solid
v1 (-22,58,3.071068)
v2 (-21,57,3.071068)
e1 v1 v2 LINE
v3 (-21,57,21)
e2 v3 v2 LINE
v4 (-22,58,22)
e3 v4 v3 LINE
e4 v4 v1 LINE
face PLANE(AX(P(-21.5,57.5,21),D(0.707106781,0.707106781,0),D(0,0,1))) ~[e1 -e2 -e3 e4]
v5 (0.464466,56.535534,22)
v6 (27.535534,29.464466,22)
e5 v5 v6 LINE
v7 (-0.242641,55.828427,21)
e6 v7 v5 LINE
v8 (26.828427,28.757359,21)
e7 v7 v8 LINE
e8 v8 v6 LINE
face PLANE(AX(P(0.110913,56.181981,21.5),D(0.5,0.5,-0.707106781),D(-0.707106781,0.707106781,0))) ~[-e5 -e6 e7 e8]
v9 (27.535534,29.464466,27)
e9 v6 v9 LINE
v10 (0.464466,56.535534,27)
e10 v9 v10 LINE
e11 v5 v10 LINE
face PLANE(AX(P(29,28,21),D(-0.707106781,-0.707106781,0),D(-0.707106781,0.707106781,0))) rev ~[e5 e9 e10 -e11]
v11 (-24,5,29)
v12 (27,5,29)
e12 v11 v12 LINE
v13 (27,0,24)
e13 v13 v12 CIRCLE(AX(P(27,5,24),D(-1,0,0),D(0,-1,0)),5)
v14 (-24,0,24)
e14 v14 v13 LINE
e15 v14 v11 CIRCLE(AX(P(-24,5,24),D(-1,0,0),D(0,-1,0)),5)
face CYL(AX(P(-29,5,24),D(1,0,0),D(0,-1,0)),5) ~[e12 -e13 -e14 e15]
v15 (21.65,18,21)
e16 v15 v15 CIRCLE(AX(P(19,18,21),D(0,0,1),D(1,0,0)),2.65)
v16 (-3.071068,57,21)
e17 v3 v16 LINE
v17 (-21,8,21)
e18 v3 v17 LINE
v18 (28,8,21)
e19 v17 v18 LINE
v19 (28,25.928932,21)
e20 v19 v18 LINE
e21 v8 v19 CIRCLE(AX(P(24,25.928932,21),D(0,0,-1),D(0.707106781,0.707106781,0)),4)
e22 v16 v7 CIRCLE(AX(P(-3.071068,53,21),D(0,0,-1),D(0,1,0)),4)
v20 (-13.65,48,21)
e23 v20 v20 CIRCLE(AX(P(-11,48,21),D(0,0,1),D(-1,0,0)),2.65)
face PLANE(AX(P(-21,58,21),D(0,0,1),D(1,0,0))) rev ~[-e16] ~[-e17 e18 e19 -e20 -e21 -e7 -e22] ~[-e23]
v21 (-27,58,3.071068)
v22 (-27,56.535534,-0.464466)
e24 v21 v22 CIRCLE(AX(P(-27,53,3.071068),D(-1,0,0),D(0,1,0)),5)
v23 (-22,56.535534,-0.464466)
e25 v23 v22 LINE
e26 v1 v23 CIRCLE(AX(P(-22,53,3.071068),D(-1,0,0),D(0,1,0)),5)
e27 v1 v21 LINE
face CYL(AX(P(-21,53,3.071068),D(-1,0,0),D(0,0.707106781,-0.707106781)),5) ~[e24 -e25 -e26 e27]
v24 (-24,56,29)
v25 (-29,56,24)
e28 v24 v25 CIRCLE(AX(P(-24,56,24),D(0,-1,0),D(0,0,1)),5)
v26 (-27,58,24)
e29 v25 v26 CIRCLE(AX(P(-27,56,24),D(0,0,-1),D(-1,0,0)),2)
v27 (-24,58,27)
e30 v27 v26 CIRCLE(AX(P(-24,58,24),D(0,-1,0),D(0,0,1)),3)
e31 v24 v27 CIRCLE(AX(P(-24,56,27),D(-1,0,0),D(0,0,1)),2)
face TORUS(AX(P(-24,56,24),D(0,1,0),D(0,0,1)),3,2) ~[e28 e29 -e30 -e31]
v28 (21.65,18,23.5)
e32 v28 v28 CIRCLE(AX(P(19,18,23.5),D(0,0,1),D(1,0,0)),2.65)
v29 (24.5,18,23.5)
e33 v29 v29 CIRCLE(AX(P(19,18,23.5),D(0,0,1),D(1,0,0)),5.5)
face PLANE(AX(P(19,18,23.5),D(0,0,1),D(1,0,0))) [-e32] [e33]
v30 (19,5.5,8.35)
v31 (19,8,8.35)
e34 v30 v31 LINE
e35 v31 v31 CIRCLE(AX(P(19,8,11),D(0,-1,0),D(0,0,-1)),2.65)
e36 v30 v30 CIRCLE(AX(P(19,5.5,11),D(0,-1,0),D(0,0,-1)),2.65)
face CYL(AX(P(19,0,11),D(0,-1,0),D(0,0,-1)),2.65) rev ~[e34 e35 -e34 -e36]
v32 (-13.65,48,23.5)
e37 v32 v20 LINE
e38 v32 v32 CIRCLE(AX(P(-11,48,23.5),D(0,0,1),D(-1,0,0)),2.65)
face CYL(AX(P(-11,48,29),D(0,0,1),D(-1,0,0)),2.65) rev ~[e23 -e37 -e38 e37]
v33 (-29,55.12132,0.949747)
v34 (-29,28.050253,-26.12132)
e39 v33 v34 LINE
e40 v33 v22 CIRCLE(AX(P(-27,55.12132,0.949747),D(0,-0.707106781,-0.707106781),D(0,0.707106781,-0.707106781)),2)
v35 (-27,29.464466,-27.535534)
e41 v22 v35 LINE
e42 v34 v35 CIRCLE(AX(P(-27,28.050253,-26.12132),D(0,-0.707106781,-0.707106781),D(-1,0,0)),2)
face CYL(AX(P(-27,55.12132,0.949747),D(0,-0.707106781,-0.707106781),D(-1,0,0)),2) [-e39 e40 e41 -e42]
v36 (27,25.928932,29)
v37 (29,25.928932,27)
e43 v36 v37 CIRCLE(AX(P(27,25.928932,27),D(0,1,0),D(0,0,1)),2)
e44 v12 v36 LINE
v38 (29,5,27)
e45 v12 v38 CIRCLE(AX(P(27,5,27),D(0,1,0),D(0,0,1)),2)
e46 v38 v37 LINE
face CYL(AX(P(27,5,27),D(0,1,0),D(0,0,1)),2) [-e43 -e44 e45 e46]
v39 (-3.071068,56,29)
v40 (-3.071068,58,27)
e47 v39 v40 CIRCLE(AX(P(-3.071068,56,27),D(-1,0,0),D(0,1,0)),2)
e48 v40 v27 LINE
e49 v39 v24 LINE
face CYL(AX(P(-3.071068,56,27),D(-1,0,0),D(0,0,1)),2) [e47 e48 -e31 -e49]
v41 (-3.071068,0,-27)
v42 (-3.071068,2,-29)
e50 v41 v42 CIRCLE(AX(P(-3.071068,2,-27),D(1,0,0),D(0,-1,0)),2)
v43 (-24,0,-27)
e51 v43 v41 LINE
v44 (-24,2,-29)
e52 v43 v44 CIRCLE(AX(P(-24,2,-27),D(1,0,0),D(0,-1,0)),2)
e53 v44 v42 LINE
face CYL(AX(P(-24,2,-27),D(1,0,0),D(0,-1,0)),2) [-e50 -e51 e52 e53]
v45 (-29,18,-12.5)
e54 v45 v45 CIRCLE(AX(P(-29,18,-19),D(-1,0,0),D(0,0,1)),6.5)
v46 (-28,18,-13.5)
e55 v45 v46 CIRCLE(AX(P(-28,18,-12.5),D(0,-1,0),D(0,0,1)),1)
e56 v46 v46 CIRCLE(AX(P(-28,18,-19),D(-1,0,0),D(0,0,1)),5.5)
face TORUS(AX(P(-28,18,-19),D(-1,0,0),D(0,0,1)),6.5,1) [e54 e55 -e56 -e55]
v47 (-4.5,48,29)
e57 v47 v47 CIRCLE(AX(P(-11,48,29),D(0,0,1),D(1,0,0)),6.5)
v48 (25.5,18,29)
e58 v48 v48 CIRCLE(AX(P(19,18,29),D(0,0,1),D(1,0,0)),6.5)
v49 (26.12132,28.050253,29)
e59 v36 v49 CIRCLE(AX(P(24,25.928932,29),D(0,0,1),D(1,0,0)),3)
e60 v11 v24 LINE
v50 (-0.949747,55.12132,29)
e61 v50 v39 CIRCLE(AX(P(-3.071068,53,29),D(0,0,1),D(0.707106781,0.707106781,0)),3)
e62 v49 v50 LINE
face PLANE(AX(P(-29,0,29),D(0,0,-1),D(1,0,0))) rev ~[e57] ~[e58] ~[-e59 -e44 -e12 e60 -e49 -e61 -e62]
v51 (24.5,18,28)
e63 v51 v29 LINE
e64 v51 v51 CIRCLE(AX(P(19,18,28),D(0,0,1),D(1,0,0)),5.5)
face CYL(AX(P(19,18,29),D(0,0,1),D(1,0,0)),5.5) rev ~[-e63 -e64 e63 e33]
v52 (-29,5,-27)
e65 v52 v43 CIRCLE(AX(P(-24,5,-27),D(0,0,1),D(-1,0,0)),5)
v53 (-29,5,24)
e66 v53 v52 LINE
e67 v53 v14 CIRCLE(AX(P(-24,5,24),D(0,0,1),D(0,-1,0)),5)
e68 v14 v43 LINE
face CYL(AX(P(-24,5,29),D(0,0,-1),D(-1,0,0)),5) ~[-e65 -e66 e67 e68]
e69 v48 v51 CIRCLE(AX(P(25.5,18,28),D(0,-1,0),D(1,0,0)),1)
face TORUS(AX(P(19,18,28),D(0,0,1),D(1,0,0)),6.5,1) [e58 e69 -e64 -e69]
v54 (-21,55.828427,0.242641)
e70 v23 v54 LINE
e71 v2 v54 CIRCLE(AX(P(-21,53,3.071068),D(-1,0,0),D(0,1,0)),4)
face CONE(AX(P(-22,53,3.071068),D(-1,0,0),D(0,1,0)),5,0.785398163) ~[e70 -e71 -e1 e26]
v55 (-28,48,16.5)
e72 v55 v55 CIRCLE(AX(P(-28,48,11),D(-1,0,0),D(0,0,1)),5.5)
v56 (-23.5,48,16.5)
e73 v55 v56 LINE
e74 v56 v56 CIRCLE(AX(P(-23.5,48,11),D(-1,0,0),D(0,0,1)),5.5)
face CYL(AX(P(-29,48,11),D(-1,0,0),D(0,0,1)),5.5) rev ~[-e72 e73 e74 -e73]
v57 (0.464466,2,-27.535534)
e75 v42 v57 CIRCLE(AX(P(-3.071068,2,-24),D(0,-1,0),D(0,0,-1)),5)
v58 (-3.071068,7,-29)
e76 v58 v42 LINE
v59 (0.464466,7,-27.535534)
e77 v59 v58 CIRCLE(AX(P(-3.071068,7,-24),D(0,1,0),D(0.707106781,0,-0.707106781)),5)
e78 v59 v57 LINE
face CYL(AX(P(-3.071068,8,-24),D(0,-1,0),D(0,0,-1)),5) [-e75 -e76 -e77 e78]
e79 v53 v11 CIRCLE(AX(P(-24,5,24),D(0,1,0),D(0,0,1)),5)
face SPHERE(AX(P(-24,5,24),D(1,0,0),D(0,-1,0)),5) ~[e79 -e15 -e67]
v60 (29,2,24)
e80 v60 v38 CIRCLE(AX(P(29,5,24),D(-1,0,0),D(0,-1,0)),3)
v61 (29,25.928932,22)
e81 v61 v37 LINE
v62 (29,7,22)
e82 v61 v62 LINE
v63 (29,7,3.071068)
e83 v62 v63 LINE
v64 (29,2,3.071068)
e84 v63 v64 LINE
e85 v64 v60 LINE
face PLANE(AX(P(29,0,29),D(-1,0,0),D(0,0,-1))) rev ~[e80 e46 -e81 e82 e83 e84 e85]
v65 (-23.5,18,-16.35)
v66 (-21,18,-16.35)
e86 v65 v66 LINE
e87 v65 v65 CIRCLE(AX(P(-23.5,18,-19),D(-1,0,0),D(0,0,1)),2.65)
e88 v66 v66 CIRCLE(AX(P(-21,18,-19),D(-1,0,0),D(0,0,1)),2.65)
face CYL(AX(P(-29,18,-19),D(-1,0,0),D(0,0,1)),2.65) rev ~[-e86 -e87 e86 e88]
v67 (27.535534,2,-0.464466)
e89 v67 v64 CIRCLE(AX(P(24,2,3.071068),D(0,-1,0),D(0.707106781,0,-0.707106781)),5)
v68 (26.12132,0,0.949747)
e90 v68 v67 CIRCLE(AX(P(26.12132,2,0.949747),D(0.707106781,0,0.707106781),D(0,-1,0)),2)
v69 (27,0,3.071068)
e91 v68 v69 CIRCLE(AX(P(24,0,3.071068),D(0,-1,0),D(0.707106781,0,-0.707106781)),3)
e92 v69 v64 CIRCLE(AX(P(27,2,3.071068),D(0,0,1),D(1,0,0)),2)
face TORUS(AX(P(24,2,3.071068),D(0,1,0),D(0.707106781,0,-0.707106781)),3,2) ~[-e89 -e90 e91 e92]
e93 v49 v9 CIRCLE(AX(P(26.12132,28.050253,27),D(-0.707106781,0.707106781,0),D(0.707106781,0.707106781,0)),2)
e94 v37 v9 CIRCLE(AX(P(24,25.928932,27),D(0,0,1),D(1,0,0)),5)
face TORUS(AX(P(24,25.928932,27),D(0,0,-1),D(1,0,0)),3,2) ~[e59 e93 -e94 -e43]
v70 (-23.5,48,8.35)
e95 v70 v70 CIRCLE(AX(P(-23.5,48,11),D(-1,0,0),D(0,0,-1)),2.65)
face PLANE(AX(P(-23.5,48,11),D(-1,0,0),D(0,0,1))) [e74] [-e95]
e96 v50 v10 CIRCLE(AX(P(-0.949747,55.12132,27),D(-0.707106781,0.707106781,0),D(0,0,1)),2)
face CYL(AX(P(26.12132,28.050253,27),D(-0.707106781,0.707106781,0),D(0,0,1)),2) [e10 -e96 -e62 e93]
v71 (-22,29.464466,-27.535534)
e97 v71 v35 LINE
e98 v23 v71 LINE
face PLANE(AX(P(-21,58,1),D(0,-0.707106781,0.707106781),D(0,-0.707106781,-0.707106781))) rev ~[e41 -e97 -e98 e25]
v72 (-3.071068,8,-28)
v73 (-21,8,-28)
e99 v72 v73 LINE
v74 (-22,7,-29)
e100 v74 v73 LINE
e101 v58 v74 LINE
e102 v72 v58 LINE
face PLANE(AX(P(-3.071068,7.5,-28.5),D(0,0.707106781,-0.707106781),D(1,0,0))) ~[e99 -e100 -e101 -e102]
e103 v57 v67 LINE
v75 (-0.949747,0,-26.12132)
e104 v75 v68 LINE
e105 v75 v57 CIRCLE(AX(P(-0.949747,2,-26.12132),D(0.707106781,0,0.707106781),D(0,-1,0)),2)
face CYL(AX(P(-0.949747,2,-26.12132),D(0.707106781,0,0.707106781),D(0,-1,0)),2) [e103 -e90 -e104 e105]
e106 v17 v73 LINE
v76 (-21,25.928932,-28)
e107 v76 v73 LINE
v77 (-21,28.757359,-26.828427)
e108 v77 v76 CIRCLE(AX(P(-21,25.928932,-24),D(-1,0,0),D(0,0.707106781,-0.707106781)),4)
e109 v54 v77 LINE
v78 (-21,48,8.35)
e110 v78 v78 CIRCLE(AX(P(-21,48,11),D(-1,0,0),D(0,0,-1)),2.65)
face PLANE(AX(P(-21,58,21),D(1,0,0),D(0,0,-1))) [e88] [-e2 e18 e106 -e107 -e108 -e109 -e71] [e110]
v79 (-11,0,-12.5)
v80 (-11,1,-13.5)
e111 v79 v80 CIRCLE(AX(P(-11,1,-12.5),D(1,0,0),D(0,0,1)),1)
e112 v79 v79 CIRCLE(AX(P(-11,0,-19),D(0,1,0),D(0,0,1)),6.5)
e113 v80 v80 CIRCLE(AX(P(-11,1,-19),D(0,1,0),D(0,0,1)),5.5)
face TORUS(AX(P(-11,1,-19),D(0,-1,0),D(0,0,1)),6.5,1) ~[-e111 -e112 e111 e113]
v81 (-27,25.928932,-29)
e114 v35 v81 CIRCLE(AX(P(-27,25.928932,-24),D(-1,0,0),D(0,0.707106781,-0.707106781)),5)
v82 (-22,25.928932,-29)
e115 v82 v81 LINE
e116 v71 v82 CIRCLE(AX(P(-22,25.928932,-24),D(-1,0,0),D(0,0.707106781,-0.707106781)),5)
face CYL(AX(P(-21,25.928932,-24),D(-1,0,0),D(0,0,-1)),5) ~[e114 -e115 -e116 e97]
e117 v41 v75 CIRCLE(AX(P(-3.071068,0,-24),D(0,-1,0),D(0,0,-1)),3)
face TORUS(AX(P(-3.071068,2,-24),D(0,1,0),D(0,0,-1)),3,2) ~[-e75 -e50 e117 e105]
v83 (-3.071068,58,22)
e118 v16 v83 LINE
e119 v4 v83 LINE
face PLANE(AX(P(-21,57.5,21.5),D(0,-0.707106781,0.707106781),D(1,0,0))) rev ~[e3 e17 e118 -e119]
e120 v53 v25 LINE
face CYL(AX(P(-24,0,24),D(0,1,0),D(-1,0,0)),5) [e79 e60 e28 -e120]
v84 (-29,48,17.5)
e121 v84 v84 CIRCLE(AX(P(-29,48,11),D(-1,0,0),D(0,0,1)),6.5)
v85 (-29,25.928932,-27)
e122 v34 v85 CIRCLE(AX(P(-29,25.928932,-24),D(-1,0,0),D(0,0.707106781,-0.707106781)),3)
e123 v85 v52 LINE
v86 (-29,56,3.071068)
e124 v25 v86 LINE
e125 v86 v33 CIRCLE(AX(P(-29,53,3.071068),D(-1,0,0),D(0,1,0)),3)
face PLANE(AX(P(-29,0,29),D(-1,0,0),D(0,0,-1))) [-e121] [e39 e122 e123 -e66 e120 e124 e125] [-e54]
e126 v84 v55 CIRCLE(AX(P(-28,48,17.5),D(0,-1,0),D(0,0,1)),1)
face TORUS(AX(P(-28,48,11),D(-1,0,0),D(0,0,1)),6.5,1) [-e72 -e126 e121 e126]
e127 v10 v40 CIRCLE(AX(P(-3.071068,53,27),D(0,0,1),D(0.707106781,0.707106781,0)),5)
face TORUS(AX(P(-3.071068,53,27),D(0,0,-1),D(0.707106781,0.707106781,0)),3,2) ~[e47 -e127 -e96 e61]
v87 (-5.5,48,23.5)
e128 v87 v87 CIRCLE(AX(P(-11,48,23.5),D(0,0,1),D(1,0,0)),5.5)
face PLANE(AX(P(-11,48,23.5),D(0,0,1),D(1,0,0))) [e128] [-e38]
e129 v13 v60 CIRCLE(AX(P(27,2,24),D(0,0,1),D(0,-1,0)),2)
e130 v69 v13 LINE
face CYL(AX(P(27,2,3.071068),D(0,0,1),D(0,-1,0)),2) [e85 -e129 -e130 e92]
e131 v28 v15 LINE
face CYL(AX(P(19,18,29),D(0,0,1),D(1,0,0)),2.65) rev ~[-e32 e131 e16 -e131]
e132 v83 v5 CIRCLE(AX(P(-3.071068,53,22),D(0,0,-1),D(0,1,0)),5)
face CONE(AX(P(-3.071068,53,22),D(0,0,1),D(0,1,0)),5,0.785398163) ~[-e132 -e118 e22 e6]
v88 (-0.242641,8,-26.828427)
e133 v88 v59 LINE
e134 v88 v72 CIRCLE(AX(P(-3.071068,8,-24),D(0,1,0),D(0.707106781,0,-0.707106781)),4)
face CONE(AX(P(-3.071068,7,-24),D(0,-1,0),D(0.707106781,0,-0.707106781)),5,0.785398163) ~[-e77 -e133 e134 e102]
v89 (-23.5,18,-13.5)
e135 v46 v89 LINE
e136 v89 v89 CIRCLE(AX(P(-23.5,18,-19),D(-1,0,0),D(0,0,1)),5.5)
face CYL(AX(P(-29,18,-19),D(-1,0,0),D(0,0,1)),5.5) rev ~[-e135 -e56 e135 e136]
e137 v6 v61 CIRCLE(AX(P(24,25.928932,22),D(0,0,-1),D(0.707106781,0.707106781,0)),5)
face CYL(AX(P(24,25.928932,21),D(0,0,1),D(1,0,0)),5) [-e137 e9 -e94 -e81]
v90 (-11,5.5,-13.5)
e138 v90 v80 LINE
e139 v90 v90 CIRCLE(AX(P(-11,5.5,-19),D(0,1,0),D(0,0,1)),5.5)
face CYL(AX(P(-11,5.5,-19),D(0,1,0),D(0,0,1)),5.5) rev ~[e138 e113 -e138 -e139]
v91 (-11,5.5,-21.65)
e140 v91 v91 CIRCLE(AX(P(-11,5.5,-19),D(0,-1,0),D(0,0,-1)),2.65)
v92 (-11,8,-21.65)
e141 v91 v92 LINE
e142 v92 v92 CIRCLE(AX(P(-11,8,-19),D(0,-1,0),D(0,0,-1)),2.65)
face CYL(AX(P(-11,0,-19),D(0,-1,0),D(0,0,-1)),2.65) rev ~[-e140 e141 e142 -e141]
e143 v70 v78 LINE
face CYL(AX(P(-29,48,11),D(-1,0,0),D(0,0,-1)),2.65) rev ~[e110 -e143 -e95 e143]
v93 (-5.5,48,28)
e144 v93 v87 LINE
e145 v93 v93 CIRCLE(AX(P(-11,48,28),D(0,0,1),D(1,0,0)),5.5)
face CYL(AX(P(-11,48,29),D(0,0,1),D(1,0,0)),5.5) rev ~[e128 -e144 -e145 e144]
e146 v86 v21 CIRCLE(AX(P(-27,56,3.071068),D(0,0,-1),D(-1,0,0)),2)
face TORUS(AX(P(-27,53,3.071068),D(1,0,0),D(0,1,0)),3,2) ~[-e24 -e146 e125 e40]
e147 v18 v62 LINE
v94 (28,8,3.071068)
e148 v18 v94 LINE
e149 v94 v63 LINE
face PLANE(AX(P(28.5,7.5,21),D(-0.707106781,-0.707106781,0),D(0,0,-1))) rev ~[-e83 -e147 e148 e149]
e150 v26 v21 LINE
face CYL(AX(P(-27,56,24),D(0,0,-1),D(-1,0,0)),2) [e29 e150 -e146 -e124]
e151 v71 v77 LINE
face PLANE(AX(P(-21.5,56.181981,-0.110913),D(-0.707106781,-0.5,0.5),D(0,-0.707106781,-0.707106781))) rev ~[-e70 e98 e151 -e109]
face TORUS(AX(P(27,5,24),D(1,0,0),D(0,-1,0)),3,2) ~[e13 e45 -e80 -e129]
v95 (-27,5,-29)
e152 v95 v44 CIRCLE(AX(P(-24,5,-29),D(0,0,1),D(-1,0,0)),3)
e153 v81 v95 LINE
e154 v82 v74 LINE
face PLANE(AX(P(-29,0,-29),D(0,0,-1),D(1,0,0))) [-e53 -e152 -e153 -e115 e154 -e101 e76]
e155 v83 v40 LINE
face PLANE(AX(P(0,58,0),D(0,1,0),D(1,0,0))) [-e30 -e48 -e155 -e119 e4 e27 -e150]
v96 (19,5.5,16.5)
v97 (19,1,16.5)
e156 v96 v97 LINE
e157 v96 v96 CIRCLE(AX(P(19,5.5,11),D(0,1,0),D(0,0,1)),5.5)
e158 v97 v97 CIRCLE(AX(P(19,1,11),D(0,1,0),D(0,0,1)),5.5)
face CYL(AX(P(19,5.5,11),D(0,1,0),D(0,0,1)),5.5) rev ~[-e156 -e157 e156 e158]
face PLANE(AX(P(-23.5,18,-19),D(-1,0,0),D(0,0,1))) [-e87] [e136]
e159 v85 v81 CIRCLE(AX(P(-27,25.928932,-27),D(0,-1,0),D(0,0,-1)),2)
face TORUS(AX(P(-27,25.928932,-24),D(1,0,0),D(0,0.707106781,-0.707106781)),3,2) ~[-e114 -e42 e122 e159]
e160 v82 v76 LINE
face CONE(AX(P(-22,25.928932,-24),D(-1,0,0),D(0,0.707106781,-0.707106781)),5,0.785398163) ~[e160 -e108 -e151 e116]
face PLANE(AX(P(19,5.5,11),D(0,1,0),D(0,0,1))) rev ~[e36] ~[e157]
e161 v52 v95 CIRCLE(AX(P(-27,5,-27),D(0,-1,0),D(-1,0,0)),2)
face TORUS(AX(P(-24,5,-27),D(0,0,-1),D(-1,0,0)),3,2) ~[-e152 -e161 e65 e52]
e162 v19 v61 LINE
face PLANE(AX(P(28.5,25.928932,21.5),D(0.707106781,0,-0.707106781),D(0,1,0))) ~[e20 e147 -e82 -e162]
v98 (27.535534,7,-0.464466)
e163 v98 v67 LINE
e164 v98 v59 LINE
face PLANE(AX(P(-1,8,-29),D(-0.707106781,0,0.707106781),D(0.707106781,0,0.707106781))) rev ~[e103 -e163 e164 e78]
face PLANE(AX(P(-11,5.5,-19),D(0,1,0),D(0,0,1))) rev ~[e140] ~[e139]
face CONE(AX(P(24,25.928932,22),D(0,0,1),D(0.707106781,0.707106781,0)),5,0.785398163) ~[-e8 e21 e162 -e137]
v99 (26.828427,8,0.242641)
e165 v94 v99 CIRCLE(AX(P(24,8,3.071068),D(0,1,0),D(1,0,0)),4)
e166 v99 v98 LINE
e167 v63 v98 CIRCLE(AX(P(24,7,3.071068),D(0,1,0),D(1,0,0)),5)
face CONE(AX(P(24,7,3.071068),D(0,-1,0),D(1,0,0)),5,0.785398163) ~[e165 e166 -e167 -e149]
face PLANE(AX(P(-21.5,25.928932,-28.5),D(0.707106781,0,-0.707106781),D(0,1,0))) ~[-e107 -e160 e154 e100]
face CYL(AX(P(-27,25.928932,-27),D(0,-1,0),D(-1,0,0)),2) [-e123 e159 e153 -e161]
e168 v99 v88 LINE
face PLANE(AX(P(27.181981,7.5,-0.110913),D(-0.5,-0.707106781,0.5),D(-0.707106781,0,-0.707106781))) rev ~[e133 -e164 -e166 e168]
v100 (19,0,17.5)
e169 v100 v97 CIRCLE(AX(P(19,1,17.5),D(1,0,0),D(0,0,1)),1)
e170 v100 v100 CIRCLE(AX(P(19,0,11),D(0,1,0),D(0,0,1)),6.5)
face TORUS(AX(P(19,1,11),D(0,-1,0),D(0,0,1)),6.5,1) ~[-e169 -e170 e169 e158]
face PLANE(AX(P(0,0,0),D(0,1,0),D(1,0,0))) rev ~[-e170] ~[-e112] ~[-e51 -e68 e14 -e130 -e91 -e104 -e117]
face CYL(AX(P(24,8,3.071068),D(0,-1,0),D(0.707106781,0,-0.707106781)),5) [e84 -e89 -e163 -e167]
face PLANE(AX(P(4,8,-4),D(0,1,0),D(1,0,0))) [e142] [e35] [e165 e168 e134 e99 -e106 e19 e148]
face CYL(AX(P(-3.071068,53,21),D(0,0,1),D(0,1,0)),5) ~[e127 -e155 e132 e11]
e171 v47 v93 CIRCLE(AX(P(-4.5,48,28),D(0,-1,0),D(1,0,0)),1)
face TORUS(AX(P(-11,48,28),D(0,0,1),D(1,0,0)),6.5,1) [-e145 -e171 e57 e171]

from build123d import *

# Parameters (mm, degrees)
SKETCH1_W           = 58
SKETCH1_H           = 58
BOSS_EXTRUDE1_DEPTH = 58
SKETCH3_W           = 50
SKETCH3_H           = 50
CUT_EXTRUDE1_DEPTH  = 50
CUT_EXTRUDE2_DEPTH  = 8
CUT_EXTRUDE3_DEPTH  = 8
CUT_EXTRUDE4_DEPTH  = 8
FILLET1_R           = 5
SKETCH10_R          = 2.65
CUT_EXTRUDE5_DEPTH  = 8
SKETCH11_R          = 2.65
CUT_EXTRUDE6_DEPTH  = 8
SKETCH12_R          = 2.65
CUT_EXTRUDE7_DEPTH  = 8
SKETCH13_R          = 5.5
CUT_EXTRUDE8_DEPTH  = 5.5
SKETCH14_R          = 5.5
CUT_EXTRUDE9_DEPTH  = 5.5
SKETCH15_R          = 5.5
CUT_EXTRUDE10_DEPTH = 5.5
FILLET2_R           = 1
FILLET3_R           = 2
CHAMFER1_SIZE       = 1


with BuildPart() as part:
    # Sketch1 → Boss-Extrude1 (new body)
    with BuildSketch(Plane(origin=(0, 0, 0), x_dir=(1, 0, 0), z_dir=(0, 1, 0))):
        Rectangle(SKETCH1_W, SKETCH1_H)
    extrude(amount=BOSS_EXTRUDE1_DEPTH)

    # Sketch3 → Cut-Extrude1 (cut)
    with BuildSketch(Plane(origin=(0, 58, 0), x_dir=(1, 0, 0), z_dir=(0, 1, 0))):
        with Locations((4, 4)):
            Rectangle(SKETCH3_W, SKETCH3_H)
    extrude(amount=-CUT_EXTRUDE1_DEPTH, mode=Mode.SUBTRACT)

    # Sketch4 → Cut-Extrude2 (cut)
    with BuildSketch(Plane(origin=(0, 0, 21), x_dir=(-1, 0, 0), z_dir=(0, 0, -1))):
        Polygon((-29, 28), (1, 58), (-29, 58), align=None)
    extrude(amount=-CUT_EXTRUDE2_DEPTH, mode=Mode.SUBTRACT)

    # Sketch5 → Cut-Extrude3 (cut)
    with BuildSketch(Plane(origin=(-21, 0, 0), x_dir=(0, 0, -1), z_dir=(1, 0, 0))):
        Polygon((-1, 58), (29, 28), (29, 58), align=None)
    extrude(amount=-CUT_EXTRUDE3_DEPTH, mode=Mode.SUBTRACT)

    # Sketch6 → Cut-Extrude4 (cut)
    with BuildSketch(Plane(origin=(0, 8, 0), x_dir=(1, 0, 0), z_dir=(0, 1, 0))):
        Polygon((-1, 29), (29, -1), (29, 29), align=None)
    extrude(amount=-CUT_EXTRUDE4_DEPTH, mode=Mode.SUBTRACT)

    # Fillet1
    fillet1_edges = [part.edges().sort_by_distance(p)[0] for p in [
        (29, 28, 25),
        (-1, 58, 25),
        (-25, 58, 1),
        (-25, 28, -29),
        (0, 0, 29),
        (-1, 4, -29),
        (29, 4, 1),
        (-29, 0, 0),
        (-29, 29, 29),
    ]]
    fillet(fillet1_edges, radius=FILLET1_R)

    # Sketch10 → Cut-Extrude5 (cut)
    with BuildSketch(Plane.XY.offset(29)):
        with Locations((19, 18)):
            Circle(SKETCH10_R)
        with Locations(Location((-11, 48, 0), (0, 0, 180))):
            Circle(SKETCH10_R)
    extrude(amount=-CUT_EXTRUDE5_DEPTH, mode=Mode.SUBTRACT)

    # Sketch11 → Cut-Extrude6 (cut)
    with BuildSketch(Plane.ZY.offset(29)):
        with Locations((-19, 18)):
            Circle(SKETCH11_R)
        with Locations(Location((11, 48, 0), (0, 0, 180))):
            Circle(SKETCH11_R)
    extrude(amount=-CUT_EXTRUDE6_DEPTH, mode=Mode.SUBTRACT)

    # Sketch12 → Cut-Extrude7 (cut)
    with BuildSketch(Plane.XZ):
        with Locations(Location((-11, -19, 0), (0, 0, 270))):
            Circle(SKETCH12_R)
        with Locations(Location((19, 11, 0), (0, 0, 270))):
            Circle(SKETCH12_R)
    extrude(amount=-CUT_EXTRUDE7_DEPTH, mode=Mode.SUBTRACT)

    # Sketch13 → Cut-Extrude8 (cut)
    with BuildSketch(Plane(origin=(0, 5.5, 0), x_dir=(1, 0, 0), z_dir=(0, 1, 0))):
        with Locations(Location((-11, 19, 0), (0, 0, 270))):
            Circle(SKETCH13_R)
        with Locations(Location((19, -11, 0), (0, 0, 270))):
            Circle(SKETCH13_R)
    extrude(amount=-CUT_EXTRUDE8_DEPTH, mode=Mode.SUBTRACT)

    # Sketch14 → Cut-Extrude9 (cut)
    with BuildSketch(Plane.ZY.offset(29)):
        with Locations((-19, 18)):
            Circle(SKETCH14_R)
        with Locations((11, 48)):
            Circle(SKETCH14_R)
    extrude(amount=-CUT_EXTRUDE9_DEPTH, mode=Mode.SUBTRACT)

    # Sketch15 → Cut-Extrude10 (cut)
    with BuildSketch(Plane.XY.offset(29)):
        with Locations((-11, 48)):
            Circle(SKETCH15_R)
        with Locations((19, 18)):
            Circle(SKETCH15_R)
    extrude(amount=-CUT_EXTRUDE10_DEPTH, mode=Mode.SUBTRACT)

    # Fillet2
    fillet2_edges = [part.edges().sort_by_distance(p)[0] for p in [
        (-11, 0, -24.5),
        (19, 0, 5.5),
        (-29, 18, -24.5),
        (-29, 48, 5.5),
        (-16.5, 48, 29),
        (13.5, 18, 29),
    ]]
    fillet(fillet2_edges, radius=FILLET2_R)

    # Fillet3
    fillet3_edges = [part.edges().sort_by_distance(p)[0] for p in [
        (14, 0, -14),
        (-13.535533906, 0, -29),
        (-29, 15.464466094, -29),
        (-27.535533906, 1.464466094, -29),
        (29, 0, 13.535533906),
        (28.619397663, 0, 1.15765065),
        (-1.15765065, 0, -28.619397663),
        (29, 15.464466094, 29),
        (29, 1.464466094, 27.535533906),
        (-29, 43, -14),
        (-29, 58, 13.535533906),
        (-13.535533906, 58, 29),
        (-27.535533906, 58, 27.535533906),
        (-29, 27.84234935, -28.619397663),
        (-29, 57.619397663, 1.15765065),
        (14, 43, 29),
        (28.619397663, 27.84234935, 29),
        (-1.15765065, 57.619397663, 29),
    ]]
    fillet(fillet3_edges, radius=FILLET3_R)

    # Chamfer1
    chamfer1_edges = [part.edges().sort_by_distance(p)[0] for p in [
        (-21, 16.964466094, -29),
        (29, 8, 12.035533906),
        (29, 16.964466094, 21),
        (-12.035533906, 58, 21),
        (14, 8, -14),
        (-12.035533906, 8, -29),
        (28.619397663, 8, 1.15765065),
        (-1.15765065, 8, -28.619397663),
        (-21, 43, -14),
        (-21, 58, 12.035533906),
        (-21, 27.84234935, -28.619397663),
        (-21, 57.619397663, 1.15765065),
        (14, 43, 21),
        (28.619397663, 27.84234935, 21),
        (-1.15765065, 57.619397663, 21),
    ]]
    chamfer(chamfer1_edges, length=CHAMFER1_SIZE)


solid = part.part
